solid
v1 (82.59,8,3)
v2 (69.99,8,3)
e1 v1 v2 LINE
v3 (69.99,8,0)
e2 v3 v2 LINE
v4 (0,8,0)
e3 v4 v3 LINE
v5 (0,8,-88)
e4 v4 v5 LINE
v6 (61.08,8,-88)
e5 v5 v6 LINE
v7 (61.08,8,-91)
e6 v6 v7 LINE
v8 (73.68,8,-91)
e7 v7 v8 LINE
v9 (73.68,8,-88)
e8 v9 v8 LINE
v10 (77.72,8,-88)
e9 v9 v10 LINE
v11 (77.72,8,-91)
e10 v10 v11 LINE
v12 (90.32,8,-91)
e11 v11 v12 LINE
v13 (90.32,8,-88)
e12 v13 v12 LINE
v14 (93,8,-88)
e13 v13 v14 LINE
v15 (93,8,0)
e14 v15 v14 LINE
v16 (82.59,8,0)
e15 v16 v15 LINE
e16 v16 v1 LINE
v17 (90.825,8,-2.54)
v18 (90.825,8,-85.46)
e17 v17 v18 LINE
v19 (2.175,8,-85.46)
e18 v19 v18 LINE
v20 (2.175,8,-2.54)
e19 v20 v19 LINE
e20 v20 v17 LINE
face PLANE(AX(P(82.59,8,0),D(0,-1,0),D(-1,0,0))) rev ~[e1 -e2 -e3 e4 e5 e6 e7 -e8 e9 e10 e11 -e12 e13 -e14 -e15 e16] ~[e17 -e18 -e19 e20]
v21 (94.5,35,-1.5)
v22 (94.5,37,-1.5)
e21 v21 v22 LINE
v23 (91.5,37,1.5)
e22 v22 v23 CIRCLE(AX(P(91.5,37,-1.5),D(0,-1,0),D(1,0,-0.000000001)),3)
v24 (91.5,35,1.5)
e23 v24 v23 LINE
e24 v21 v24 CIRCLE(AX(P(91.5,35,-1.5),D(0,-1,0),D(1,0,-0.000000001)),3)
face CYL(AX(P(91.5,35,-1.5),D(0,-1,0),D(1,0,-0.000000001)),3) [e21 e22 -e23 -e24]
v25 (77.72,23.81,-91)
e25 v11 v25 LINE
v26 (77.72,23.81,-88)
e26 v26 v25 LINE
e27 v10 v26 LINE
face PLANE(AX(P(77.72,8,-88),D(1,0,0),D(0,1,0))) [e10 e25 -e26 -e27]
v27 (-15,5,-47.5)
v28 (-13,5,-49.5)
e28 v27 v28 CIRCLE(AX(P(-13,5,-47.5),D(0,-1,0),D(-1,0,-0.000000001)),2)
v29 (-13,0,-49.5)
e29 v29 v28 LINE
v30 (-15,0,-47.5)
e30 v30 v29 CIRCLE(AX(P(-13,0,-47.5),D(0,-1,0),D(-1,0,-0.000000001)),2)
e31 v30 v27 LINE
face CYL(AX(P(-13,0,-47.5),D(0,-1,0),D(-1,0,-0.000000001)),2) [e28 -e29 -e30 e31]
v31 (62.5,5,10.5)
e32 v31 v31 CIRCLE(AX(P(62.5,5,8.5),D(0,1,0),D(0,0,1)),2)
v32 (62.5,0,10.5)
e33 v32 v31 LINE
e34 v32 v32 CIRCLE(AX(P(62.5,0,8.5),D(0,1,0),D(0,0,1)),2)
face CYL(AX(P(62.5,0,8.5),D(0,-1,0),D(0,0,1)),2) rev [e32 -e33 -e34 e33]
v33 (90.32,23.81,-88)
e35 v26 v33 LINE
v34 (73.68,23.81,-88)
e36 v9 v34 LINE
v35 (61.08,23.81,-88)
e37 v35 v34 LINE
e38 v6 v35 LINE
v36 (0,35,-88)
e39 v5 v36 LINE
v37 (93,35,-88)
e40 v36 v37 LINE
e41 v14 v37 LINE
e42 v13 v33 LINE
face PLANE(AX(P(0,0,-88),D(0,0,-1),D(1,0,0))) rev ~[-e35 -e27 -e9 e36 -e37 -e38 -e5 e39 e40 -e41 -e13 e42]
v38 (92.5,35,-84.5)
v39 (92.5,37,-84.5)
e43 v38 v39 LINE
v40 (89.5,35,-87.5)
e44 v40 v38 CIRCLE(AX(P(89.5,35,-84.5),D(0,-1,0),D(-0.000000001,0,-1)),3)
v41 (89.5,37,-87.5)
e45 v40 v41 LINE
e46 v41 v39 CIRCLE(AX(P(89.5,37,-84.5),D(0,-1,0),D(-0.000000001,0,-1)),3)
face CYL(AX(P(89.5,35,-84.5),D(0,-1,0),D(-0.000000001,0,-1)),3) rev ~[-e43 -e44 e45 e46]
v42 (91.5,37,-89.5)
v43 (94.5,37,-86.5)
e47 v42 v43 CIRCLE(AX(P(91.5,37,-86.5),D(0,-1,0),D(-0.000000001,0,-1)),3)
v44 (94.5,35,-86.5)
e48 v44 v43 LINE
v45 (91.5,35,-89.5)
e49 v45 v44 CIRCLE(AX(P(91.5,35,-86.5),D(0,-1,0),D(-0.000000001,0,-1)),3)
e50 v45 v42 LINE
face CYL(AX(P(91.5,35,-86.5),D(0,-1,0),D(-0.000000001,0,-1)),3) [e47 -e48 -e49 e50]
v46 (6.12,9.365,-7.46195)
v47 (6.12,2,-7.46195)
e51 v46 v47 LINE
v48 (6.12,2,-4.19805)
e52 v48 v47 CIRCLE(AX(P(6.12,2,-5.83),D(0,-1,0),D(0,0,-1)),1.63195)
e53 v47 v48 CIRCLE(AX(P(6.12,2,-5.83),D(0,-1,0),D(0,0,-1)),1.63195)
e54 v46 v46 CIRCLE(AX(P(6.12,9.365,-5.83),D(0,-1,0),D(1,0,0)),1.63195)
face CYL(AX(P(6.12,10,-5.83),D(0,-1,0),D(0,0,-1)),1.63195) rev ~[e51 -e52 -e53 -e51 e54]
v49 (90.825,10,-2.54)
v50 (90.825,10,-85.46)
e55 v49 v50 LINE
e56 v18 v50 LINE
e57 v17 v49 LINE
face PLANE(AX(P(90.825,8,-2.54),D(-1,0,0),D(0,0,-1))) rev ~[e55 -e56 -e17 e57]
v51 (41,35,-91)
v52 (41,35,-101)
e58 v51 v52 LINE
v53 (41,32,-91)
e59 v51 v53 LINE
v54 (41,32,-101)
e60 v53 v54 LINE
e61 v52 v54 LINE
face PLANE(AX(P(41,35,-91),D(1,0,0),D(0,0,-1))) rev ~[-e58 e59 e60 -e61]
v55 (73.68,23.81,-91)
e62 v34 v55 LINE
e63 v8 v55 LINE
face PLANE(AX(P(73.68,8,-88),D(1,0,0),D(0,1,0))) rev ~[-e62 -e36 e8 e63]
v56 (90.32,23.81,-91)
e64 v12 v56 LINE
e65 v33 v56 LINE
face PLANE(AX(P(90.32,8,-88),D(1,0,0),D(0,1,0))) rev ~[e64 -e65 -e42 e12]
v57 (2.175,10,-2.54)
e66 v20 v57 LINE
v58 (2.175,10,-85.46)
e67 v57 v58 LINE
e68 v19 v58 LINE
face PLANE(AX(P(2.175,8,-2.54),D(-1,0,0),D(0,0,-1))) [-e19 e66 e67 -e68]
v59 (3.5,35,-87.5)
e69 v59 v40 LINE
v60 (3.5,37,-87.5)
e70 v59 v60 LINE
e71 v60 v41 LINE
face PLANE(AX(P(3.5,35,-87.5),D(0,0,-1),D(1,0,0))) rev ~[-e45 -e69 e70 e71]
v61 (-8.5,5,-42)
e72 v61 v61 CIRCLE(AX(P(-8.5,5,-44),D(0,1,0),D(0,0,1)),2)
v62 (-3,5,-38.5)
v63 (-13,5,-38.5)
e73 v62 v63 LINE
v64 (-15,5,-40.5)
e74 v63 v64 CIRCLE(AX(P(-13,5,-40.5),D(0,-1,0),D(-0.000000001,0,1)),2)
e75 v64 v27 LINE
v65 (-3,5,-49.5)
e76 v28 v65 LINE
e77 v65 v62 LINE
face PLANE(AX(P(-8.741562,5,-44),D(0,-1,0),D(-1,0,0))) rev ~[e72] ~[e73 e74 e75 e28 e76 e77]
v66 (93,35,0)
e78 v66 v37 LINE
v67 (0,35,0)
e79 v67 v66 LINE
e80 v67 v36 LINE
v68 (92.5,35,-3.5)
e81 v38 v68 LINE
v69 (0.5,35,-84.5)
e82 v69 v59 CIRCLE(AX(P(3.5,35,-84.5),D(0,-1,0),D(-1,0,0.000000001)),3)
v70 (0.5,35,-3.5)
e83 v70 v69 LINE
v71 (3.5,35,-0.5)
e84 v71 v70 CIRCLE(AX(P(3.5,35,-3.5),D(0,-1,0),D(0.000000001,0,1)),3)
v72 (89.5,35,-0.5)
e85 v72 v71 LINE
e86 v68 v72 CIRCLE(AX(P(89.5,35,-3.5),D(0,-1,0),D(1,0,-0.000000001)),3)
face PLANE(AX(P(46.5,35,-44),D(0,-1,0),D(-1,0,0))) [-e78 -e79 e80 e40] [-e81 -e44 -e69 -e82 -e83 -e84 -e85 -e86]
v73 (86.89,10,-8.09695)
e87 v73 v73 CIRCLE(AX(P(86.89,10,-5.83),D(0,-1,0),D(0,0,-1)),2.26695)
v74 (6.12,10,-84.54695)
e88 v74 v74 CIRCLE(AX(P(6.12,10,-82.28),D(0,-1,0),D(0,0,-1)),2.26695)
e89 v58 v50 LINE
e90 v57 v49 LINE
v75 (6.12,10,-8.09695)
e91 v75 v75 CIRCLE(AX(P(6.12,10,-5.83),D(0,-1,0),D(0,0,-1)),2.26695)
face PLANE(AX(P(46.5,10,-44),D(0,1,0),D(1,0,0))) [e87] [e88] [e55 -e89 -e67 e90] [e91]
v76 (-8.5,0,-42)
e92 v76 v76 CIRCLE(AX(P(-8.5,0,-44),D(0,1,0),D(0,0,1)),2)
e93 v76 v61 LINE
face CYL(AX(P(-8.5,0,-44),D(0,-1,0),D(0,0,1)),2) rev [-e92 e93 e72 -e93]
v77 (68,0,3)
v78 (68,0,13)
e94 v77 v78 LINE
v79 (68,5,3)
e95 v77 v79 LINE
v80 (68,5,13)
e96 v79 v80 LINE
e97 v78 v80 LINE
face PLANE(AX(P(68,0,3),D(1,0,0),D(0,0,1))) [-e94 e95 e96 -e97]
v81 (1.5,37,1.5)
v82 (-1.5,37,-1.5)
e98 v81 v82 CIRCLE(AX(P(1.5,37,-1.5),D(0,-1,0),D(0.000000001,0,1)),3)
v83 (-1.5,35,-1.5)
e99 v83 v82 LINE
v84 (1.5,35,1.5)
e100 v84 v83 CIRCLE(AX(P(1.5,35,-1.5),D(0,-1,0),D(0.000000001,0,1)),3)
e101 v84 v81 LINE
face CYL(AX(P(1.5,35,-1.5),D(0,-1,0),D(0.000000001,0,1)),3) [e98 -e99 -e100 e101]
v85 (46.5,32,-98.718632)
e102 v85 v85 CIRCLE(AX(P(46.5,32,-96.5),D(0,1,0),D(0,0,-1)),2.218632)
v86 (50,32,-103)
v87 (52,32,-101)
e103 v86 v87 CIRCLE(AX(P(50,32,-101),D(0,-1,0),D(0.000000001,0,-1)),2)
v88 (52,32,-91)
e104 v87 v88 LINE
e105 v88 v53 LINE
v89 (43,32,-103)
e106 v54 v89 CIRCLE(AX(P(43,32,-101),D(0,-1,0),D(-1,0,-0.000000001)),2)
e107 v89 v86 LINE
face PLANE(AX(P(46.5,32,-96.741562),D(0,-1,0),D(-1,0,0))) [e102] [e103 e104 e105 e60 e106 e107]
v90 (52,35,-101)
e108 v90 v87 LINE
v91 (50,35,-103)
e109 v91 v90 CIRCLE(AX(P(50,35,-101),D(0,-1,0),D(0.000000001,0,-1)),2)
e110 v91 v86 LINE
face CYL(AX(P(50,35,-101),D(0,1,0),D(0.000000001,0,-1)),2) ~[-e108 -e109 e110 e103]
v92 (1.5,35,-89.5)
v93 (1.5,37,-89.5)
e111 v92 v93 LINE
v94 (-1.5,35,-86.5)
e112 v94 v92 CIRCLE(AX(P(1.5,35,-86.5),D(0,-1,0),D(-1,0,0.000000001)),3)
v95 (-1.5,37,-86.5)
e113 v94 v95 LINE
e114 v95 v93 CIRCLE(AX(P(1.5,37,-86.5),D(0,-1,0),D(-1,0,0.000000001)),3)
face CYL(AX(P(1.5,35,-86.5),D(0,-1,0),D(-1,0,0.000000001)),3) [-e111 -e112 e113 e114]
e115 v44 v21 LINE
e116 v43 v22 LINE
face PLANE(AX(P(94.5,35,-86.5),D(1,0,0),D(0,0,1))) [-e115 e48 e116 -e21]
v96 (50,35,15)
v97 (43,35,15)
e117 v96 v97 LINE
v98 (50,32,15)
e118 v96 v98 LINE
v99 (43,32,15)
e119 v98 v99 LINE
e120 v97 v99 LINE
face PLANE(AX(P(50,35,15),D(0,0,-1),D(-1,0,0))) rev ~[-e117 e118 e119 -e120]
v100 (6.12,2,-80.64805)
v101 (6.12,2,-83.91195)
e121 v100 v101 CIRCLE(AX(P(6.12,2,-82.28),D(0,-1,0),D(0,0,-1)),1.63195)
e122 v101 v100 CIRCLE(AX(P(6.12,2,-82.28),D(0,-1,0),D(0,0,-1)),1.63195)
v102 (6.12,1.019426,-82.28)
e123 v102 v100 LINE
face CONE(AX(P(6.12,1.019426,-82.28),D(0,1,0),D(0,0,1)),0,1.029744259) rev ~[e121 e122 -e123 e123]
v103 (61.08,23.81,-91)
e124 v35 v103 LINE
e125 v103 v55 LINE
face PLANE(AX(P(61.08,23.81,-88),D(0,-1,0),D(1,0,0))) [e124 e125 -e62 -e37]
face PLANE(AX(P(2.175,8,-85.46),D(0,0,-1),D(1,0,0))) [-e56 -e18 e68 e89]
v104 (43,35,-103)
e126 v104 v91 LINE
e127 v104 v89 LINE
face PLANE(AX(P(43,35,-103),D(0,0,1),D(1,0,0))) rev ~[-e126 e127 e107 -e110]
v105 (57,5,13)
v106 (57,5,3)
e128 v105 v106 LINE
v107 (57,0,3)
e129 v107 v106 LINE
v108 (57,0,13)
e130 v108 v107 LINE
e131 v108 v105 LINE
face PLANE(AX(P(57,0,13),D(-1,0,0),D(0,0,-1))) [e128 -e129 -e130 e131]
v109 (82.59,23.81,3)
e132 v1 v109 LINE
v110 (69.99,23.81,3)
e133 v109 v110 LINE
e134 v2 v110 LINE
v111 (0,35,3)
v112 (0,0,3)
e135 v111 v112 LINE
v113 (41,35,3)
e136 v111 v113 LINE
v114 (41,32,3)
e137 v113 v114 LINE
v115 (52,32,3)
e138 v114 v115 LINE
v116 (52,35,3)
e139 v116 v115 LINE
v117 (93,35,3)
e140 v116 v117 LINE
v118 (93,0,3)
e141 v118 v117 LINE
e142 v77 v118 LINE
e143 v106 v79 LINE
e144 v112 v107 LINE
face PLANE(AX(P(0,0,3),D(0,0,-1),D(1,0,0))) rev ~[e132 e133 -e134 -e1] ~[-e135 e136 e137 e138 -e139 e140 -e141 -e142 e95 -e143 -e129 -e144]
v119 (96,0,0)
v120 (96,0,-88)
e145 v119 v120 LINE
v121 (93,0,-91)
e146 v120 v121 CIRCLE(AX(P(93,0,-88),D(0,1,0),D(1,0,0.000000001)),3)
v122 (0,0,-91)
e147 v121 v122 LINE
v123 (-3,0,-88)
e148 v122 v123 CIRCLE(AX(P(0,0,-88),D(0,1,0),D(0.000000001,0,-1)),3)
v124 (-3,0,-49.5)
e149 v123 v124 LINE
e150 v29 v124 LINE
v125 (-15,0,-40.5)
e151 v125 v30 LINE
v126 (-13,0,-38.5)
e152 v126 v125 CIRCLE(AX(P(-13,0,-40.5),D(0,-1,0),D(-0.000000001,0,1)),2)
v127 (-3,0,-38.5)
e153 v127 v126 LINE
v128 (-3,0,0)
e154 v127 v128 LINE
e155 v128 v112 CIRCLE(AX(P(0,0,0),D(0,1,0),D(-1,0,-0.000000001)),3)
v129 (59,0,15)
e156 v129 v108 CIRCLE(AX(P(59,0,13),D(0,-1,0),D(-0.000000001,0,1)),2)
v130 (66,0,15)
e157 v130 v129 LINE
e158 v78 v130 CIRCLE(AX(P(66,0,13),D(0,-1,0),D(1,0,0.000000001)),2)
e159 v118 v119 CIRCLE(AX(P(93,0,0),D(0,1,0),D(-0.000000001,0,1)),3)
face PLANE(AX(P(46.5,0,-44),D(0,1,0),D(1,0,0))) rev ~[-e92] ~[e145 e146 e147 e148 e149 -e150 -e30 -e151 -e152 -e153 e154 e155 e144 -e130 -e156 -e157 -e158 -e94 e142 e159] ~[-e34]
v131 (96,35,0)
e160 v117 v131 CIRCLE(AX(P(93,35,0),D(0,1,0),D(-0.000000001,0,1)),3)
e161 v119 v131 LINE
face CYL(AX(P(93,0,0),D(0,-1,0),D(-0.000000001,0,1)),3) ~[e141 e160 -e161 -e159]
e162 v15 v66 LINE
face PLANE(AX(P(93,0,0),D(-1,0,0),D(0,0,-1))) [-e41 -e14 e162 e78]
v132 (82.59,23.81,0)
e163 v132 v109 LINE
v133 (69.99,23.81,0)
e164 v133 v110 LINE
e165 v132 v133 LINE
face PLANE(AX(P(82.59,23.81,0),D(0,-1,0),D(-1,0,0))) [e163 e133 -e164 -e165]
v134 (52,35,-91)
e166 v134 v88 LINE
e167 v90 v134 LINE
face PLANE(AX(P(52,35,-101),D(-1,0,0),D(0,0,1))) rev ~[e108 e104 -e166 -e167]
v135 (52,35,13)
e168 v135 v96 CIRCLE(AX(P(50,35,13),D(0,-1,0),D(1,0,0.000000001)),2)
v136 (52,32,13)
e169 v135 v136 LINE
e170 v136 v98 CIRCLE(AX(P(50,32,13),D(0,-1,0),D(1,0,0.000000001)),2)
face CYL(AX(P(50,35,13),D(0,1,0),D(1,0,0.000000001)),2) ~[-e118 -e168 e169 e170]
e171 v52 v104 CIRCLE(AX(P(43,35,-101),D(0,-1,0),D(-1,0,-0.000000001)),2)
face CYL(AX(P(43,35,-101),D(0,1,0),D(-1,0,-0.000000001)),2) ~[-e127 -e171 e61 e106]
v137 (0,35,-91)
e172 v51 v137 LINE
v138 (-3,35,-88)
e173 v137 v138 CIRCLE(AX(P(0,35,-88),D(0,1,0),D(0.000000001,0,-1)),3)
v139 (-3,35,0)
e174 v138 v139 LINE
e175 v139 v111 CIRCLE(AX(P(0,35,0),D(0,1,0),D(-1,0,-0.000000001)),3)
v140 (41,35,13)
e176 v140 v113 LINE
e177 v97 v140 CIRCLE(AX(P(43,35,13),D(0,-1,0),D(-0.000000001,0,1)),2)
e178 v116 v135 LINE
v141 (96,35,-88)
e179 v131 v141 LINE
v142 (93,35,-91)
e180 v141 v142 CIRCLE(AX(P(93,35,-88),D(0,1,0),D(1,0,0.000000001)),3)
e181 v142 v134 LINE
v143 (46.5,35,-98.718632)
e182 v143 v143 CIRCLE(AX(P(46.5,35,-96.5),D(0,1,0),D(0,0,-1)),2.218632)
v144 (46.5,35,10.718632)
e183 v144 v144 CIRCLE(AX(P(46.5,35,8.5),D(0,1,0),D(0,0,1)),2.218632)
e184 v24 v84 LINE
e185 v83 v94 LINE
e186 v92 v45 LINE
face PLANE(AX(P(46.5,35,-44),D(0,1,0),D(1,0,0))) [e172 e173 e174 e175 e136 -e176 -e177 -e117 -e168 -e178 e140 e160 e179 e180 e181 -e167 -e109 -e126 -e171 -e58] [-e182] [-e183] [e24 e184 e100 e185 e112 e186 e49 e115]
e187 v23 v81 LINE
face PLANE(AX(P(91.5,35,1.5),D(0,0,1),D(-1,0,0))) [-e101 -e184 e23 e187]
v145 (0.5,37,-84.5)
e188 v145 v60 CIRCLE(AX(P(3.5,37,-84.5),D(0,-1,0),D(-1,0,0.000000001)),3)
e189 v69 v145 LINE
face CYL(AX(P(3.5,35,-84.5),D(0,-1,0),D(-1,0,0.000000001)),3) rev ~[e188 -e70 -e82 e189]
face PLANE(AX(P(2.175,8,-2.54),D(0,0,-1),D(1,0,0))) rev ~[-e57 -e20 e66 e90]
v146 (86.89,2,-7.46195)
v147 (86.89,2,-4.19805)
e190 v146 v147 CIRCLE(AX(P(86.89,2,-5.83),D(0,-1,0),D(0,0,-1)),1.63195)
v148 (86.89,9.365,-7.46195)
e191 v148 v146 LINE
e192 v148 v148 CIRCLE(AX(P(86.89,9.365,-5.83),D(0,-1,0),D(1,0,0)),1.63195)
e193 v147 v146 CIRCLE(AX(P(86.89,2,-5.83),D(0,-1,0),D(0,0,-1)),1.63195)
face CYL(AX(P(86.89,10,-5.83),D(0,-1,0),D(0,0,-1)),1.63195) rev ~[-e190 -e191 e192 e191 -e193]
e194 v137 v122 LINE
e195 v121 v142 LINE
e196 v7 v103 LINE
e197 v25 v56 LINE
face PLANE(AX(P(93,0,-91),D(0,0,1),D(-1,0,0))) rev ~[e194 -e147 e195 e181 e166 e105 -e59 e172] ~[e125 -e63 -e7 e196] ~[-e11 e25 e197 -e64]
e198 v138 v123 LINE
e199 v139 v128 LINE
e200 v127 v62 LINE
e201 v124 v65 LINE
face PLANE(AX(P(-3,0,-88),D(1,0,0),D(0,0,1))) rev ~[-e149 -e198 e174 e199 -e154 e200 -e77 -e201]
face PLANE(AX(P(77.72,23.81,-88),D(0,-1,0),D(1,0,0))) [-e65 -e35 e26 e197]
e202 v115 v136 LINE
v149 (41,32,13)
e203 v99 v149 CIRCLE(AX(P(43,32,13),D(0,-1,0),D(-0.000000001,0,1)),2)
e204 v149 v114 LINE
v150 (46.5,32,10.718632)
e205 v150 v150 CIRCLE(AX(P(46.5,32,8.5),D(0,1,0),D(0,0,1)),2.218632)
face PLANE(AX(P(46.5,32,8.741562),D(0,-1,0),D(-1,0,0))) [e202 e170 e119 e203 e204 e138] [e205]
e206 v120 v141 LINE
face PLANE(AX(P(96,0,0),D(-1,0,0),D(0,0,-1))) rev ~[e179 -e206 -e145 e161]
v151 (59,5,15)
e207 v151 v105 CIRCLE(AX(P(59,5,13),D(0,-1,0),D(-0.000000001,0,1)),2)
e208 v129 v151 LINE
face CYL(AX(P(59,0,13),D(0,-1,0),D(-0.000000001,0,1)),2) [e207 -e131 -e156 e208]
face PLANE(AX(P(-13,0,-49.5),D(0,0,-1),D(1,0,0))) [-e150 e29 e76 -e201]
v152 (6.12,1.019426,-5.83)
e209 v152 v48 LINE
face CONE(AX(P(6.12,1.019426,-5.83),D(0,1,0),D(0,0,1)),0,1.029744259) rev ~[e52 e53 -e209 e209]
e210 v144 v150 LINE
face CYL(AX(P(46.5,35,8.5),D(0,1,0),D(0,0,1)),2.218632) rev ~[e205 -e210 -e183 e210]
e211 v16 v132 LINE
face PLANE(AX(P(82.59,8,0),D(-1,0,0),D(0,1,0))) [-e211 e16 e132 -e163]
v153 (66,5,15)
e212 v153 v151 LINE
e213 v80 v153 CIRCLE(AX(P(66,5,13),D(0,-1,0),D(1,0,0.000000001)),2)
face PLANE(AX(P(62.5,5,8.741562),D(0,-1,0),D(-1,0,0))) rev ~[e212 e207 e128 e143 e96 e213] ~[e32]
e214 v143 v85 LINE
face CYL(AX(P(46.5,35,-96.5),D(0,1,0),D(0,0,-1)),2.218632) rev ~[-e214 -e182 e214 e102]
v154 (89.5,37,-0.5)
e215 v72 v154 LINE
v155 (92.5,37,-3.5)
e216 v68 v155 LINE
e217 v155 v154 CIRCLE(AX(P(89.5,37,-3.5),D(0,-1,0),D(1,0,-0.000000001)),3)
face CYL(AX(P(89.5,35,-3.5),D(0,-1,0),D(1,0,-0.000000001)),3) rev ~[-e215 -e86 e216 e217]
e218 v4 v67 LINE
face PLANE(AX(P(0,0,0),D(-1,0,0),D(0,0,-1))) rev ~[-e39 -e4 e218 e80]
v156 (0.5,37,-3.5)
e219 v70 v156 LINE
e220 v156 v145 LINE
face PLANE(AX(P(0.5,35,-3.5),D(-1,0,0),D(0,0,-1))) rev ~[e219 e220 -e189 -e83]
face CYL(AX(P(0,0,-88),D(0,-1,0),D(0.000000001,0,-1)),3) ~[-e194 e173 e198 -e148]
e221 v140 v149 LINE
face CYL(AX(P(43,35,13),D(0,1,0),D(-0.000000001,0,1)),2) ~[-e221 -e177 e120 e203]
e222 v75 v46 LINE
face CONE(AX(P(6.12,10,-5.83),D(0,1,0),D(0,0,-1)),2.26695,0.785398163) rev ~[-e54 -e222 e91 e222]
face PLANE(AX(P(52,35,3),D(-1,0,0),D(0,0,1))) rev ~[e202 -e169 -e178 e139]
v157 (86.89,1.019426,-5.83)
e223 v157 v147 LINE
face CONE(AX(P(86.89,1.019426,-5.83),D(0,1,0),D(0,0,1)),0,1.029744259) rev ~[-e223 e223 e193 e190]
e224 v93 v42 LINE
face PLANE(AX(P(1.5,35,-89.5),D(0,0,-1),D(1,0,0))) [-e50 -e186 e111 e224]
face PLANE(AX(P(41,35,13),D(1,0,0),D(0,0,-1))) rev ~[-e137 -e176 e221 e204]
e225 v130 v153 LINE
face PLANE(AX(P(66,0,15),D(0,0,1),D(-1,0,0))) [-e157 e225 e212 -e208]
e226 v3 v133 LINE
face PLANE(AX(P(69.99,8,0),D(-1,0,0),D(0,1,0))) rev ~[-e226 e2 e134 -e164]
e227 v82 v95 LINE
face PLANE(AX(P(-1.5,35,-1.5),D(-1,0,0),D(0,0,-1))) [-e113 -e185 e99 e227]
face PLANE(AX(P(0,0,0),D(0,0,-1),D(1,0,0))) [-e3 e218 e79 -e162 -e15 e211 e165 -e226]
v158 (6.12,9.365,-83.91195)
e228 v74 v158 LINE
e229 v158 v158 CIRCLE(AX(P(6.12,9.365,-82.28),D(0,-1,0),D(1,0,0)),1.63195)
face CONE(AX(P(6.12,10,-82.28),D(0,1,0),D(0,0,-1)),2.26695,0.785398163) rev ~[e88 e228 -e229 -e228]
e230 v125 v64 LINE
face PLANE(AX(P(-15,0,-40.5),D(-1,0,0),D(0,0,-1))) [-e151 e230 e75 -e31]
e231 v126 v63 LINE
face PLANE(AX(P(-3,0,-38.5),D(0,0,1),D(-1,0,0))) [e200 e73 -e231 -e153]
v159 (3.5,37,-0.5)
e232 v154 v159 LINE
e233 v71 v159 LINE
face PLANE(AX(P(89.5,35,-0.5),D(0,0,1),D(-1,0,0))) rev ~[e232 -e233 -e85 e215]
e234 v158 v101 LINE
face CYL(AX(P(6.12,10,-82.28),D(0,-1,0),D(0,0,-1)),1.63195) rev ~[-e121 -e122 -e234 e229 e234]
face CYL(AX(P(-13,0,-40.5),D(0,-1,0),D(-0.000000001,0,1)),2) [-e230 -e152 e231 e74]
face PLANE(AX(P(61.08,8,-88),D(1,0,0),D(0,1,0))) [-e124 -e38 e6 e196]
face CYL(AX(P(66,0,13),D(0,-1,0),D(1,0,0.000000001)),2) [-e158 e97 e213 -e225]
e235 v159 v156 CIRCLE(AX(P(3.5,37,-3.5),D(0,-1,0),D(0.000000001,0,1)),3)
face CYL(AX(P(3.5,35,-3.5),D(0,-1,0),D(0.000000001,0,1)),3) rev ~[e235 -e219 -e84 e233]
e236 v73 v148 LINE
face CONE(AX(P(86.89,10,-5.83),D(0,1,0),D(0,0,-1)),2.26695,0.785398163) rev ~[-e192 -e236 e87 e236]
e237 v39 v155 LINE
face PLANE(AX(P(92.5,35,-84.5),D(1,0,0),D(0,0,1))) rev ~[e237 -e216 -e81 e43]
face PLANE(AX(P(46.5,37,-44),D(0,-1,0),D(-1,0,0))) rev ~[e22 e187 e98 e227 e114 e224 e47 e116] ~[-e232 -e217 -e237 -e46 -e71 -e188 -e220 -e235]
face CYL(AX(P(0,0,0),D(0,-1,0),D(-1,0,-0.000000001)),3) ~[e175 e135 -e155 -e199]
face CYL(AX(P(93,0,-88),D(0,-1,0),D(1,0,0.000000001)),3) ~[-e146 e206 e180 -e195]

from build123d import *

# Parameters (mm, degrees)
ESBO_O1_W                        = 93
ESBO_O1_H                        = 88
RESSALTO_EXTRUS_O2_DEPTH         = 35
ESBO_O1_5_W                      = 93
ESBO_O1_5_H                      = 88
RESSALTO_EXTRUS_O3_DEPTH         = 8
ESBO_O1_7_R                      = 2
RESSALTO_EXTRUS_O6_DEPTH         = 5
ESBO_O4_R                        = 2.218632056
RESSALTO_EXTRUS_O7_DEPTH         = 3
ESBO_O5_W                        = 88.65
ESBO_O5_H                        = 82.92
RESSALTO_EXTRUS_O8_DEPTH         = 2
ESBO_O7_W                        = 12.6
ESBO_O7_H                        = 15.81
CORTE_EXTRUS_O1_DEPTH            = 146.086181285
ESBO_O8_W                        = 12.6
ESBO_O8_H                        = 15.81
CORTE_EXTRUS_O2_DEPTH            = 146.086181285
FURO_COM_FOLGA_DE_41_D           = 3.2639
FURO_COM_FOLGA_DE_41_DEPTH       = 8
FURO_COM_FOLGA_DE_41_CSINK_D     = 4.5339
FURO_COM_FOLGA_DE_41_CSINK_ANGLE = 90
FURO_COM_FOLGA_DE_41_TIP         = 0.980574487
RESSALTO_EXTRUS_O10_DEPTH        = 2


with BuildPart() as part:
    # Esboço1 → Ressalto-extrusão2 (new body)
    with BuildSketch(Plane(origin=(0, 0, 0), x_dir=(1, 0, 0), z_dir=(0, 1, 0))):
        with BuildLine():
            ThreePointArc((-3, 0), (-2.121320344, -2.121320344), (0, -3))
            Line((0, -3), (57, -3))
            Line((57, -3), (68, -3))
            Line((68, -3), (93, -3))
            ThreePointArc((93, -3), (95.121320344, -2.121320344), (96, 0))
            Line((96, 0), (96, 88))
            ThreePointArc((96, 88), (95.121320344, 90.121320344), (93, 91))
            Line((93, 91), (0, 91))
            ThreePointArc((0, 91), (-2.121320344, 90.121320344), (-3, 88))
            Line((-3, 88), (-3, 49.5))
            Line((-3, 49.5), (-3, 38.5))
            Line((-3, 38.5), (-3, 0))
        make_face()
        with Locations((46.5, 44)):
            Rectangle(ESBO_O1_W, ESBO_O1_H, mode=Mode.SUBTRACT)
    extrude(amount=RESSALTO_EXTRUS_O2_DEPTH)

    # Esboço1<5> → Ressalto-extrusão3 (add)
    with BuildSketch(Plane(origin=(0, 0, 0), x_dir=(1, 0, 0), z_dir=(0, 1, 0))):
        with Locations((46.5, 44)):
            Rectangle(ESBO_O1_5_W, ESBO_O1_5_H)
    extrude(amount=RESSALTO_EXTRUS_O3_DEPTH)

    # Esboço1<7> → Ressalto-extrusão6 (add)
    # profile 1 of 2: a face of its own
    with BuildSketch(Plane(origin=(0, 0, 0), x_dir=(1, 0, 0), z_dir=(0, 1, 0))):
        with BuildLine():
            Line((68, -3), (57, -3))
            Line((57, -3), (57, -13))
            ThreePointArc((57, -13), (57.585786438, -14.414213562), (59, -15))
            Line((59, -15), (66, -15))
            ThreePointArc((66, -15), (67.414213562, -14.414213562), (68, -13))
            Line((68, -13), (68, -3))
        make_face()
        with Locations((62.5, -8.5)):
            Circle(ESBO_O1_7_R, mode=Mode.SUBTRACT)
    # profile 2 of 2: a face of its own
    with BuildSketch(Plane(origin=(0, 0, 0), x_dir=(1, 0, 0), z_dir=(0, 1, 0))):
        with BuildLine():
            Line((-13, 38.5), (-3, 38.5))
            Line((-3, 38.5), (-3, 49.5))
            Line((-3, 49.5), (-13, 49.5))
            ThreePointArc((-13, 49.5), (-14.414213562, 48.914213562), (-15, 47.5))
            Line((-15, 47.5), (-15, 40.5))
            ThreePointArc((-15, 40.5), (-14.414213562, 39.085786438), (-13, 38.5))
        make_face()
        with Locations((-8.5, 44)):
            Circle(ESBO_O1_7_R, mode=Mode.SUBTRACT)
    extrude(amount=RESSALTO_EXTRUS_O6_DEPTH)

    # Esboço4 → Ressalto-extrusão7 (add)
    # profile 1 of 2: a face of its own
    with BuildSketch(Plane(origin=(0, 35, 0), x_dir=(1, 0, 0), z_dir=(0, 1, 0))):
        with BuildLine():
            Line((41, -3), (52, -3))
            Line((52, -3), (52, -13))
            ThreePointArc((52, -13), (51.414213562, -14.414213562), (50, -15))
            Line((50, -15), (43, -15))
            ThreePointArc((43, -15), (41.585786438, -14.414213562), (41, -13))
            Line((41, -13), (41, -3))
        make_face()
        with Locations((46.5, -8.5)):
            Circle(ESBO_O4_R, mode=Mode.SUBTRACT)
    # profile 2 of 2: a face of its own
    with BuildSketch(Plane(origin=(0, 35, 0), x_dir=(1, 0, 0), z_dir=(0, 1, 0))):
        with BuildLine():
            Line((43, 103), (50, 103))
            ThreePointArc((50, 103), (51.414213562, 102.414213562), (52, 101))
            Line((52, 101), (52, 91))
            Line((52, 91), (41, 91))
            Line((41, 91), (41, 101))
            ThreePointArc((41, 101), (41.585786438, 102.414213562), (43, 103))
        make_face()
        with Locations((46.5, 96.5)):
            Circle(ESBO_O4_R, mode=Mode.SUBTRACT)
    extrude(amount=-RESSALTO_EXTRUS_O7_DEPTH)

    # Esboço5 → Ressalto-extrusão8 (add)
    with BuildSketch(Plane(origin=(0, 8, 0), x_dir=(1, 0, 0), z_dir=(0, 1, 0))):
        with Locations((46.5, 44)):
            Rectangle(ESBO_O5_W, ESBO_O5_H)
    extrude(amount=RESSALTO_EXTRUS_O8_DEPTH)

    # Esboço7 → Corte-extrusão1 (cut, through all)
    with BuildSketch(Plane.XY.offset(-88)):
        with Locations((67.38, 15.905)):
            Rectangle(ESBO_O7_W, ESBO_O7_H)
        with Locations((84.02, 15.905)):
            Rectangle(ESBO_O7_W, ESBO_O7_H)
    extrude(amount=-CORTE_EXTRUS_O1_DEPTH, mode=Mode.SUBTRACT)

    # Esboço8 → Corte-extrusão2 (cut, through all)
    with BuildSketch(Plane(origin=(0, 0, 0), x_dir=(-1, 0, 0), z_dir=(0, 0, -1))):
        with Locations((-76.29, 15.905)):
            Rectangle(ESBO_O8_W, ESBO_O8_H)
    extrude(amount=-CORTE_EXTRUS_O2_DEPTH, mode=Mode.SUBTRACT)

    # Furo com folga de #41
    with Locations(Plane(origin=(6.12, 10, -82.28), x_dir=(0, 0, 1), z_dir=(0, 1, 0))):
        with Locations((0, 0), (76.45, 0), (76.45, 80.77)):
            CounterSinkHole(FURO_COM_FOLGA_DE_41_D / 2, FURO_COM_FOLGA_DE_41_CSINK_D / 2, depth=FURO_COM_FOLGA_DE_41_DEPTH, counter_sink_angle=FURO_COM_FOLGA_DE_41_CSINK_ANGLE)
            with Locations((0, 0, -(FURO_COM_FOLGA_DE_41_DEPTH + FURO_COM_FOLGA_DE_41_TIP / 2))):  # 118° drill point
                Cone(0, FURO_COM_FOLGA_DE_41_D / 2, FURO_COM_FOLGA_DE_41_TIP, mode=Mode.SUBTRACT)

    # Esboço14 → Ressalto-extrusão10 (add)
    with BuildSketch(Plane(origin=(0, 35, 0), x_dir=(1, 0, 0), z_dir=(0, 1, 0))):
        with BuildLine():
            Line((1.5, 89.5), (91.5, 89.5))
            ThreePointArc((91.5, 89.5), (93.621320344, 88.621320344), (94.5, 86.5))
            Line((94.5, 86.5), (94.5, 1.5))
            ThreePointArc((94.5, 1.5), (93.621320344, -0.621320344), (91.5, -1.5))
            Line((91.5, -1.5), (1.5, -1.5))
            ThreePointArc((1.5, -1.5), (-0.621320344, -0.621320344), (-1.5, 1.5))
            Line((-1.5, 1.5), (-1.5, 86.5))
            ThreePointArc((-1.5, 86.5), (-0.621320344, 88.621320344), (1.5, 89.5))
        make_face()
        with BuildLine():
            Line((3.5, 87.5), (89.5, 87.5))
            ThreePointArc((89.5, 87.5), (91.621320344, 86.621320344), (92.5, 84.5))
            Line((92.5, 84.5), (92.5, 3.5))
            ThreePointArc((92.5, 3.5), (91.621320344, 1.378679656), (89.5, 0.5))
            Line((89.5, 0.5), (3.5, 0.5))
            ThreePointArc((3.5, 0.5), (1.378679656, 1.378679656), (0.5, 3.5))
            Line((0.5, 3.5), (0.5, 84.5))
            ThreePointArc((0.5, 84.5), (1.378679656, 86.621320344), (3.5, 87.5))
        make_face(mode=Mode.SUBTRACT)
    extrude(amount=RESSALTO_EXTRUS_O10_DEPTH)


solid = part.part
